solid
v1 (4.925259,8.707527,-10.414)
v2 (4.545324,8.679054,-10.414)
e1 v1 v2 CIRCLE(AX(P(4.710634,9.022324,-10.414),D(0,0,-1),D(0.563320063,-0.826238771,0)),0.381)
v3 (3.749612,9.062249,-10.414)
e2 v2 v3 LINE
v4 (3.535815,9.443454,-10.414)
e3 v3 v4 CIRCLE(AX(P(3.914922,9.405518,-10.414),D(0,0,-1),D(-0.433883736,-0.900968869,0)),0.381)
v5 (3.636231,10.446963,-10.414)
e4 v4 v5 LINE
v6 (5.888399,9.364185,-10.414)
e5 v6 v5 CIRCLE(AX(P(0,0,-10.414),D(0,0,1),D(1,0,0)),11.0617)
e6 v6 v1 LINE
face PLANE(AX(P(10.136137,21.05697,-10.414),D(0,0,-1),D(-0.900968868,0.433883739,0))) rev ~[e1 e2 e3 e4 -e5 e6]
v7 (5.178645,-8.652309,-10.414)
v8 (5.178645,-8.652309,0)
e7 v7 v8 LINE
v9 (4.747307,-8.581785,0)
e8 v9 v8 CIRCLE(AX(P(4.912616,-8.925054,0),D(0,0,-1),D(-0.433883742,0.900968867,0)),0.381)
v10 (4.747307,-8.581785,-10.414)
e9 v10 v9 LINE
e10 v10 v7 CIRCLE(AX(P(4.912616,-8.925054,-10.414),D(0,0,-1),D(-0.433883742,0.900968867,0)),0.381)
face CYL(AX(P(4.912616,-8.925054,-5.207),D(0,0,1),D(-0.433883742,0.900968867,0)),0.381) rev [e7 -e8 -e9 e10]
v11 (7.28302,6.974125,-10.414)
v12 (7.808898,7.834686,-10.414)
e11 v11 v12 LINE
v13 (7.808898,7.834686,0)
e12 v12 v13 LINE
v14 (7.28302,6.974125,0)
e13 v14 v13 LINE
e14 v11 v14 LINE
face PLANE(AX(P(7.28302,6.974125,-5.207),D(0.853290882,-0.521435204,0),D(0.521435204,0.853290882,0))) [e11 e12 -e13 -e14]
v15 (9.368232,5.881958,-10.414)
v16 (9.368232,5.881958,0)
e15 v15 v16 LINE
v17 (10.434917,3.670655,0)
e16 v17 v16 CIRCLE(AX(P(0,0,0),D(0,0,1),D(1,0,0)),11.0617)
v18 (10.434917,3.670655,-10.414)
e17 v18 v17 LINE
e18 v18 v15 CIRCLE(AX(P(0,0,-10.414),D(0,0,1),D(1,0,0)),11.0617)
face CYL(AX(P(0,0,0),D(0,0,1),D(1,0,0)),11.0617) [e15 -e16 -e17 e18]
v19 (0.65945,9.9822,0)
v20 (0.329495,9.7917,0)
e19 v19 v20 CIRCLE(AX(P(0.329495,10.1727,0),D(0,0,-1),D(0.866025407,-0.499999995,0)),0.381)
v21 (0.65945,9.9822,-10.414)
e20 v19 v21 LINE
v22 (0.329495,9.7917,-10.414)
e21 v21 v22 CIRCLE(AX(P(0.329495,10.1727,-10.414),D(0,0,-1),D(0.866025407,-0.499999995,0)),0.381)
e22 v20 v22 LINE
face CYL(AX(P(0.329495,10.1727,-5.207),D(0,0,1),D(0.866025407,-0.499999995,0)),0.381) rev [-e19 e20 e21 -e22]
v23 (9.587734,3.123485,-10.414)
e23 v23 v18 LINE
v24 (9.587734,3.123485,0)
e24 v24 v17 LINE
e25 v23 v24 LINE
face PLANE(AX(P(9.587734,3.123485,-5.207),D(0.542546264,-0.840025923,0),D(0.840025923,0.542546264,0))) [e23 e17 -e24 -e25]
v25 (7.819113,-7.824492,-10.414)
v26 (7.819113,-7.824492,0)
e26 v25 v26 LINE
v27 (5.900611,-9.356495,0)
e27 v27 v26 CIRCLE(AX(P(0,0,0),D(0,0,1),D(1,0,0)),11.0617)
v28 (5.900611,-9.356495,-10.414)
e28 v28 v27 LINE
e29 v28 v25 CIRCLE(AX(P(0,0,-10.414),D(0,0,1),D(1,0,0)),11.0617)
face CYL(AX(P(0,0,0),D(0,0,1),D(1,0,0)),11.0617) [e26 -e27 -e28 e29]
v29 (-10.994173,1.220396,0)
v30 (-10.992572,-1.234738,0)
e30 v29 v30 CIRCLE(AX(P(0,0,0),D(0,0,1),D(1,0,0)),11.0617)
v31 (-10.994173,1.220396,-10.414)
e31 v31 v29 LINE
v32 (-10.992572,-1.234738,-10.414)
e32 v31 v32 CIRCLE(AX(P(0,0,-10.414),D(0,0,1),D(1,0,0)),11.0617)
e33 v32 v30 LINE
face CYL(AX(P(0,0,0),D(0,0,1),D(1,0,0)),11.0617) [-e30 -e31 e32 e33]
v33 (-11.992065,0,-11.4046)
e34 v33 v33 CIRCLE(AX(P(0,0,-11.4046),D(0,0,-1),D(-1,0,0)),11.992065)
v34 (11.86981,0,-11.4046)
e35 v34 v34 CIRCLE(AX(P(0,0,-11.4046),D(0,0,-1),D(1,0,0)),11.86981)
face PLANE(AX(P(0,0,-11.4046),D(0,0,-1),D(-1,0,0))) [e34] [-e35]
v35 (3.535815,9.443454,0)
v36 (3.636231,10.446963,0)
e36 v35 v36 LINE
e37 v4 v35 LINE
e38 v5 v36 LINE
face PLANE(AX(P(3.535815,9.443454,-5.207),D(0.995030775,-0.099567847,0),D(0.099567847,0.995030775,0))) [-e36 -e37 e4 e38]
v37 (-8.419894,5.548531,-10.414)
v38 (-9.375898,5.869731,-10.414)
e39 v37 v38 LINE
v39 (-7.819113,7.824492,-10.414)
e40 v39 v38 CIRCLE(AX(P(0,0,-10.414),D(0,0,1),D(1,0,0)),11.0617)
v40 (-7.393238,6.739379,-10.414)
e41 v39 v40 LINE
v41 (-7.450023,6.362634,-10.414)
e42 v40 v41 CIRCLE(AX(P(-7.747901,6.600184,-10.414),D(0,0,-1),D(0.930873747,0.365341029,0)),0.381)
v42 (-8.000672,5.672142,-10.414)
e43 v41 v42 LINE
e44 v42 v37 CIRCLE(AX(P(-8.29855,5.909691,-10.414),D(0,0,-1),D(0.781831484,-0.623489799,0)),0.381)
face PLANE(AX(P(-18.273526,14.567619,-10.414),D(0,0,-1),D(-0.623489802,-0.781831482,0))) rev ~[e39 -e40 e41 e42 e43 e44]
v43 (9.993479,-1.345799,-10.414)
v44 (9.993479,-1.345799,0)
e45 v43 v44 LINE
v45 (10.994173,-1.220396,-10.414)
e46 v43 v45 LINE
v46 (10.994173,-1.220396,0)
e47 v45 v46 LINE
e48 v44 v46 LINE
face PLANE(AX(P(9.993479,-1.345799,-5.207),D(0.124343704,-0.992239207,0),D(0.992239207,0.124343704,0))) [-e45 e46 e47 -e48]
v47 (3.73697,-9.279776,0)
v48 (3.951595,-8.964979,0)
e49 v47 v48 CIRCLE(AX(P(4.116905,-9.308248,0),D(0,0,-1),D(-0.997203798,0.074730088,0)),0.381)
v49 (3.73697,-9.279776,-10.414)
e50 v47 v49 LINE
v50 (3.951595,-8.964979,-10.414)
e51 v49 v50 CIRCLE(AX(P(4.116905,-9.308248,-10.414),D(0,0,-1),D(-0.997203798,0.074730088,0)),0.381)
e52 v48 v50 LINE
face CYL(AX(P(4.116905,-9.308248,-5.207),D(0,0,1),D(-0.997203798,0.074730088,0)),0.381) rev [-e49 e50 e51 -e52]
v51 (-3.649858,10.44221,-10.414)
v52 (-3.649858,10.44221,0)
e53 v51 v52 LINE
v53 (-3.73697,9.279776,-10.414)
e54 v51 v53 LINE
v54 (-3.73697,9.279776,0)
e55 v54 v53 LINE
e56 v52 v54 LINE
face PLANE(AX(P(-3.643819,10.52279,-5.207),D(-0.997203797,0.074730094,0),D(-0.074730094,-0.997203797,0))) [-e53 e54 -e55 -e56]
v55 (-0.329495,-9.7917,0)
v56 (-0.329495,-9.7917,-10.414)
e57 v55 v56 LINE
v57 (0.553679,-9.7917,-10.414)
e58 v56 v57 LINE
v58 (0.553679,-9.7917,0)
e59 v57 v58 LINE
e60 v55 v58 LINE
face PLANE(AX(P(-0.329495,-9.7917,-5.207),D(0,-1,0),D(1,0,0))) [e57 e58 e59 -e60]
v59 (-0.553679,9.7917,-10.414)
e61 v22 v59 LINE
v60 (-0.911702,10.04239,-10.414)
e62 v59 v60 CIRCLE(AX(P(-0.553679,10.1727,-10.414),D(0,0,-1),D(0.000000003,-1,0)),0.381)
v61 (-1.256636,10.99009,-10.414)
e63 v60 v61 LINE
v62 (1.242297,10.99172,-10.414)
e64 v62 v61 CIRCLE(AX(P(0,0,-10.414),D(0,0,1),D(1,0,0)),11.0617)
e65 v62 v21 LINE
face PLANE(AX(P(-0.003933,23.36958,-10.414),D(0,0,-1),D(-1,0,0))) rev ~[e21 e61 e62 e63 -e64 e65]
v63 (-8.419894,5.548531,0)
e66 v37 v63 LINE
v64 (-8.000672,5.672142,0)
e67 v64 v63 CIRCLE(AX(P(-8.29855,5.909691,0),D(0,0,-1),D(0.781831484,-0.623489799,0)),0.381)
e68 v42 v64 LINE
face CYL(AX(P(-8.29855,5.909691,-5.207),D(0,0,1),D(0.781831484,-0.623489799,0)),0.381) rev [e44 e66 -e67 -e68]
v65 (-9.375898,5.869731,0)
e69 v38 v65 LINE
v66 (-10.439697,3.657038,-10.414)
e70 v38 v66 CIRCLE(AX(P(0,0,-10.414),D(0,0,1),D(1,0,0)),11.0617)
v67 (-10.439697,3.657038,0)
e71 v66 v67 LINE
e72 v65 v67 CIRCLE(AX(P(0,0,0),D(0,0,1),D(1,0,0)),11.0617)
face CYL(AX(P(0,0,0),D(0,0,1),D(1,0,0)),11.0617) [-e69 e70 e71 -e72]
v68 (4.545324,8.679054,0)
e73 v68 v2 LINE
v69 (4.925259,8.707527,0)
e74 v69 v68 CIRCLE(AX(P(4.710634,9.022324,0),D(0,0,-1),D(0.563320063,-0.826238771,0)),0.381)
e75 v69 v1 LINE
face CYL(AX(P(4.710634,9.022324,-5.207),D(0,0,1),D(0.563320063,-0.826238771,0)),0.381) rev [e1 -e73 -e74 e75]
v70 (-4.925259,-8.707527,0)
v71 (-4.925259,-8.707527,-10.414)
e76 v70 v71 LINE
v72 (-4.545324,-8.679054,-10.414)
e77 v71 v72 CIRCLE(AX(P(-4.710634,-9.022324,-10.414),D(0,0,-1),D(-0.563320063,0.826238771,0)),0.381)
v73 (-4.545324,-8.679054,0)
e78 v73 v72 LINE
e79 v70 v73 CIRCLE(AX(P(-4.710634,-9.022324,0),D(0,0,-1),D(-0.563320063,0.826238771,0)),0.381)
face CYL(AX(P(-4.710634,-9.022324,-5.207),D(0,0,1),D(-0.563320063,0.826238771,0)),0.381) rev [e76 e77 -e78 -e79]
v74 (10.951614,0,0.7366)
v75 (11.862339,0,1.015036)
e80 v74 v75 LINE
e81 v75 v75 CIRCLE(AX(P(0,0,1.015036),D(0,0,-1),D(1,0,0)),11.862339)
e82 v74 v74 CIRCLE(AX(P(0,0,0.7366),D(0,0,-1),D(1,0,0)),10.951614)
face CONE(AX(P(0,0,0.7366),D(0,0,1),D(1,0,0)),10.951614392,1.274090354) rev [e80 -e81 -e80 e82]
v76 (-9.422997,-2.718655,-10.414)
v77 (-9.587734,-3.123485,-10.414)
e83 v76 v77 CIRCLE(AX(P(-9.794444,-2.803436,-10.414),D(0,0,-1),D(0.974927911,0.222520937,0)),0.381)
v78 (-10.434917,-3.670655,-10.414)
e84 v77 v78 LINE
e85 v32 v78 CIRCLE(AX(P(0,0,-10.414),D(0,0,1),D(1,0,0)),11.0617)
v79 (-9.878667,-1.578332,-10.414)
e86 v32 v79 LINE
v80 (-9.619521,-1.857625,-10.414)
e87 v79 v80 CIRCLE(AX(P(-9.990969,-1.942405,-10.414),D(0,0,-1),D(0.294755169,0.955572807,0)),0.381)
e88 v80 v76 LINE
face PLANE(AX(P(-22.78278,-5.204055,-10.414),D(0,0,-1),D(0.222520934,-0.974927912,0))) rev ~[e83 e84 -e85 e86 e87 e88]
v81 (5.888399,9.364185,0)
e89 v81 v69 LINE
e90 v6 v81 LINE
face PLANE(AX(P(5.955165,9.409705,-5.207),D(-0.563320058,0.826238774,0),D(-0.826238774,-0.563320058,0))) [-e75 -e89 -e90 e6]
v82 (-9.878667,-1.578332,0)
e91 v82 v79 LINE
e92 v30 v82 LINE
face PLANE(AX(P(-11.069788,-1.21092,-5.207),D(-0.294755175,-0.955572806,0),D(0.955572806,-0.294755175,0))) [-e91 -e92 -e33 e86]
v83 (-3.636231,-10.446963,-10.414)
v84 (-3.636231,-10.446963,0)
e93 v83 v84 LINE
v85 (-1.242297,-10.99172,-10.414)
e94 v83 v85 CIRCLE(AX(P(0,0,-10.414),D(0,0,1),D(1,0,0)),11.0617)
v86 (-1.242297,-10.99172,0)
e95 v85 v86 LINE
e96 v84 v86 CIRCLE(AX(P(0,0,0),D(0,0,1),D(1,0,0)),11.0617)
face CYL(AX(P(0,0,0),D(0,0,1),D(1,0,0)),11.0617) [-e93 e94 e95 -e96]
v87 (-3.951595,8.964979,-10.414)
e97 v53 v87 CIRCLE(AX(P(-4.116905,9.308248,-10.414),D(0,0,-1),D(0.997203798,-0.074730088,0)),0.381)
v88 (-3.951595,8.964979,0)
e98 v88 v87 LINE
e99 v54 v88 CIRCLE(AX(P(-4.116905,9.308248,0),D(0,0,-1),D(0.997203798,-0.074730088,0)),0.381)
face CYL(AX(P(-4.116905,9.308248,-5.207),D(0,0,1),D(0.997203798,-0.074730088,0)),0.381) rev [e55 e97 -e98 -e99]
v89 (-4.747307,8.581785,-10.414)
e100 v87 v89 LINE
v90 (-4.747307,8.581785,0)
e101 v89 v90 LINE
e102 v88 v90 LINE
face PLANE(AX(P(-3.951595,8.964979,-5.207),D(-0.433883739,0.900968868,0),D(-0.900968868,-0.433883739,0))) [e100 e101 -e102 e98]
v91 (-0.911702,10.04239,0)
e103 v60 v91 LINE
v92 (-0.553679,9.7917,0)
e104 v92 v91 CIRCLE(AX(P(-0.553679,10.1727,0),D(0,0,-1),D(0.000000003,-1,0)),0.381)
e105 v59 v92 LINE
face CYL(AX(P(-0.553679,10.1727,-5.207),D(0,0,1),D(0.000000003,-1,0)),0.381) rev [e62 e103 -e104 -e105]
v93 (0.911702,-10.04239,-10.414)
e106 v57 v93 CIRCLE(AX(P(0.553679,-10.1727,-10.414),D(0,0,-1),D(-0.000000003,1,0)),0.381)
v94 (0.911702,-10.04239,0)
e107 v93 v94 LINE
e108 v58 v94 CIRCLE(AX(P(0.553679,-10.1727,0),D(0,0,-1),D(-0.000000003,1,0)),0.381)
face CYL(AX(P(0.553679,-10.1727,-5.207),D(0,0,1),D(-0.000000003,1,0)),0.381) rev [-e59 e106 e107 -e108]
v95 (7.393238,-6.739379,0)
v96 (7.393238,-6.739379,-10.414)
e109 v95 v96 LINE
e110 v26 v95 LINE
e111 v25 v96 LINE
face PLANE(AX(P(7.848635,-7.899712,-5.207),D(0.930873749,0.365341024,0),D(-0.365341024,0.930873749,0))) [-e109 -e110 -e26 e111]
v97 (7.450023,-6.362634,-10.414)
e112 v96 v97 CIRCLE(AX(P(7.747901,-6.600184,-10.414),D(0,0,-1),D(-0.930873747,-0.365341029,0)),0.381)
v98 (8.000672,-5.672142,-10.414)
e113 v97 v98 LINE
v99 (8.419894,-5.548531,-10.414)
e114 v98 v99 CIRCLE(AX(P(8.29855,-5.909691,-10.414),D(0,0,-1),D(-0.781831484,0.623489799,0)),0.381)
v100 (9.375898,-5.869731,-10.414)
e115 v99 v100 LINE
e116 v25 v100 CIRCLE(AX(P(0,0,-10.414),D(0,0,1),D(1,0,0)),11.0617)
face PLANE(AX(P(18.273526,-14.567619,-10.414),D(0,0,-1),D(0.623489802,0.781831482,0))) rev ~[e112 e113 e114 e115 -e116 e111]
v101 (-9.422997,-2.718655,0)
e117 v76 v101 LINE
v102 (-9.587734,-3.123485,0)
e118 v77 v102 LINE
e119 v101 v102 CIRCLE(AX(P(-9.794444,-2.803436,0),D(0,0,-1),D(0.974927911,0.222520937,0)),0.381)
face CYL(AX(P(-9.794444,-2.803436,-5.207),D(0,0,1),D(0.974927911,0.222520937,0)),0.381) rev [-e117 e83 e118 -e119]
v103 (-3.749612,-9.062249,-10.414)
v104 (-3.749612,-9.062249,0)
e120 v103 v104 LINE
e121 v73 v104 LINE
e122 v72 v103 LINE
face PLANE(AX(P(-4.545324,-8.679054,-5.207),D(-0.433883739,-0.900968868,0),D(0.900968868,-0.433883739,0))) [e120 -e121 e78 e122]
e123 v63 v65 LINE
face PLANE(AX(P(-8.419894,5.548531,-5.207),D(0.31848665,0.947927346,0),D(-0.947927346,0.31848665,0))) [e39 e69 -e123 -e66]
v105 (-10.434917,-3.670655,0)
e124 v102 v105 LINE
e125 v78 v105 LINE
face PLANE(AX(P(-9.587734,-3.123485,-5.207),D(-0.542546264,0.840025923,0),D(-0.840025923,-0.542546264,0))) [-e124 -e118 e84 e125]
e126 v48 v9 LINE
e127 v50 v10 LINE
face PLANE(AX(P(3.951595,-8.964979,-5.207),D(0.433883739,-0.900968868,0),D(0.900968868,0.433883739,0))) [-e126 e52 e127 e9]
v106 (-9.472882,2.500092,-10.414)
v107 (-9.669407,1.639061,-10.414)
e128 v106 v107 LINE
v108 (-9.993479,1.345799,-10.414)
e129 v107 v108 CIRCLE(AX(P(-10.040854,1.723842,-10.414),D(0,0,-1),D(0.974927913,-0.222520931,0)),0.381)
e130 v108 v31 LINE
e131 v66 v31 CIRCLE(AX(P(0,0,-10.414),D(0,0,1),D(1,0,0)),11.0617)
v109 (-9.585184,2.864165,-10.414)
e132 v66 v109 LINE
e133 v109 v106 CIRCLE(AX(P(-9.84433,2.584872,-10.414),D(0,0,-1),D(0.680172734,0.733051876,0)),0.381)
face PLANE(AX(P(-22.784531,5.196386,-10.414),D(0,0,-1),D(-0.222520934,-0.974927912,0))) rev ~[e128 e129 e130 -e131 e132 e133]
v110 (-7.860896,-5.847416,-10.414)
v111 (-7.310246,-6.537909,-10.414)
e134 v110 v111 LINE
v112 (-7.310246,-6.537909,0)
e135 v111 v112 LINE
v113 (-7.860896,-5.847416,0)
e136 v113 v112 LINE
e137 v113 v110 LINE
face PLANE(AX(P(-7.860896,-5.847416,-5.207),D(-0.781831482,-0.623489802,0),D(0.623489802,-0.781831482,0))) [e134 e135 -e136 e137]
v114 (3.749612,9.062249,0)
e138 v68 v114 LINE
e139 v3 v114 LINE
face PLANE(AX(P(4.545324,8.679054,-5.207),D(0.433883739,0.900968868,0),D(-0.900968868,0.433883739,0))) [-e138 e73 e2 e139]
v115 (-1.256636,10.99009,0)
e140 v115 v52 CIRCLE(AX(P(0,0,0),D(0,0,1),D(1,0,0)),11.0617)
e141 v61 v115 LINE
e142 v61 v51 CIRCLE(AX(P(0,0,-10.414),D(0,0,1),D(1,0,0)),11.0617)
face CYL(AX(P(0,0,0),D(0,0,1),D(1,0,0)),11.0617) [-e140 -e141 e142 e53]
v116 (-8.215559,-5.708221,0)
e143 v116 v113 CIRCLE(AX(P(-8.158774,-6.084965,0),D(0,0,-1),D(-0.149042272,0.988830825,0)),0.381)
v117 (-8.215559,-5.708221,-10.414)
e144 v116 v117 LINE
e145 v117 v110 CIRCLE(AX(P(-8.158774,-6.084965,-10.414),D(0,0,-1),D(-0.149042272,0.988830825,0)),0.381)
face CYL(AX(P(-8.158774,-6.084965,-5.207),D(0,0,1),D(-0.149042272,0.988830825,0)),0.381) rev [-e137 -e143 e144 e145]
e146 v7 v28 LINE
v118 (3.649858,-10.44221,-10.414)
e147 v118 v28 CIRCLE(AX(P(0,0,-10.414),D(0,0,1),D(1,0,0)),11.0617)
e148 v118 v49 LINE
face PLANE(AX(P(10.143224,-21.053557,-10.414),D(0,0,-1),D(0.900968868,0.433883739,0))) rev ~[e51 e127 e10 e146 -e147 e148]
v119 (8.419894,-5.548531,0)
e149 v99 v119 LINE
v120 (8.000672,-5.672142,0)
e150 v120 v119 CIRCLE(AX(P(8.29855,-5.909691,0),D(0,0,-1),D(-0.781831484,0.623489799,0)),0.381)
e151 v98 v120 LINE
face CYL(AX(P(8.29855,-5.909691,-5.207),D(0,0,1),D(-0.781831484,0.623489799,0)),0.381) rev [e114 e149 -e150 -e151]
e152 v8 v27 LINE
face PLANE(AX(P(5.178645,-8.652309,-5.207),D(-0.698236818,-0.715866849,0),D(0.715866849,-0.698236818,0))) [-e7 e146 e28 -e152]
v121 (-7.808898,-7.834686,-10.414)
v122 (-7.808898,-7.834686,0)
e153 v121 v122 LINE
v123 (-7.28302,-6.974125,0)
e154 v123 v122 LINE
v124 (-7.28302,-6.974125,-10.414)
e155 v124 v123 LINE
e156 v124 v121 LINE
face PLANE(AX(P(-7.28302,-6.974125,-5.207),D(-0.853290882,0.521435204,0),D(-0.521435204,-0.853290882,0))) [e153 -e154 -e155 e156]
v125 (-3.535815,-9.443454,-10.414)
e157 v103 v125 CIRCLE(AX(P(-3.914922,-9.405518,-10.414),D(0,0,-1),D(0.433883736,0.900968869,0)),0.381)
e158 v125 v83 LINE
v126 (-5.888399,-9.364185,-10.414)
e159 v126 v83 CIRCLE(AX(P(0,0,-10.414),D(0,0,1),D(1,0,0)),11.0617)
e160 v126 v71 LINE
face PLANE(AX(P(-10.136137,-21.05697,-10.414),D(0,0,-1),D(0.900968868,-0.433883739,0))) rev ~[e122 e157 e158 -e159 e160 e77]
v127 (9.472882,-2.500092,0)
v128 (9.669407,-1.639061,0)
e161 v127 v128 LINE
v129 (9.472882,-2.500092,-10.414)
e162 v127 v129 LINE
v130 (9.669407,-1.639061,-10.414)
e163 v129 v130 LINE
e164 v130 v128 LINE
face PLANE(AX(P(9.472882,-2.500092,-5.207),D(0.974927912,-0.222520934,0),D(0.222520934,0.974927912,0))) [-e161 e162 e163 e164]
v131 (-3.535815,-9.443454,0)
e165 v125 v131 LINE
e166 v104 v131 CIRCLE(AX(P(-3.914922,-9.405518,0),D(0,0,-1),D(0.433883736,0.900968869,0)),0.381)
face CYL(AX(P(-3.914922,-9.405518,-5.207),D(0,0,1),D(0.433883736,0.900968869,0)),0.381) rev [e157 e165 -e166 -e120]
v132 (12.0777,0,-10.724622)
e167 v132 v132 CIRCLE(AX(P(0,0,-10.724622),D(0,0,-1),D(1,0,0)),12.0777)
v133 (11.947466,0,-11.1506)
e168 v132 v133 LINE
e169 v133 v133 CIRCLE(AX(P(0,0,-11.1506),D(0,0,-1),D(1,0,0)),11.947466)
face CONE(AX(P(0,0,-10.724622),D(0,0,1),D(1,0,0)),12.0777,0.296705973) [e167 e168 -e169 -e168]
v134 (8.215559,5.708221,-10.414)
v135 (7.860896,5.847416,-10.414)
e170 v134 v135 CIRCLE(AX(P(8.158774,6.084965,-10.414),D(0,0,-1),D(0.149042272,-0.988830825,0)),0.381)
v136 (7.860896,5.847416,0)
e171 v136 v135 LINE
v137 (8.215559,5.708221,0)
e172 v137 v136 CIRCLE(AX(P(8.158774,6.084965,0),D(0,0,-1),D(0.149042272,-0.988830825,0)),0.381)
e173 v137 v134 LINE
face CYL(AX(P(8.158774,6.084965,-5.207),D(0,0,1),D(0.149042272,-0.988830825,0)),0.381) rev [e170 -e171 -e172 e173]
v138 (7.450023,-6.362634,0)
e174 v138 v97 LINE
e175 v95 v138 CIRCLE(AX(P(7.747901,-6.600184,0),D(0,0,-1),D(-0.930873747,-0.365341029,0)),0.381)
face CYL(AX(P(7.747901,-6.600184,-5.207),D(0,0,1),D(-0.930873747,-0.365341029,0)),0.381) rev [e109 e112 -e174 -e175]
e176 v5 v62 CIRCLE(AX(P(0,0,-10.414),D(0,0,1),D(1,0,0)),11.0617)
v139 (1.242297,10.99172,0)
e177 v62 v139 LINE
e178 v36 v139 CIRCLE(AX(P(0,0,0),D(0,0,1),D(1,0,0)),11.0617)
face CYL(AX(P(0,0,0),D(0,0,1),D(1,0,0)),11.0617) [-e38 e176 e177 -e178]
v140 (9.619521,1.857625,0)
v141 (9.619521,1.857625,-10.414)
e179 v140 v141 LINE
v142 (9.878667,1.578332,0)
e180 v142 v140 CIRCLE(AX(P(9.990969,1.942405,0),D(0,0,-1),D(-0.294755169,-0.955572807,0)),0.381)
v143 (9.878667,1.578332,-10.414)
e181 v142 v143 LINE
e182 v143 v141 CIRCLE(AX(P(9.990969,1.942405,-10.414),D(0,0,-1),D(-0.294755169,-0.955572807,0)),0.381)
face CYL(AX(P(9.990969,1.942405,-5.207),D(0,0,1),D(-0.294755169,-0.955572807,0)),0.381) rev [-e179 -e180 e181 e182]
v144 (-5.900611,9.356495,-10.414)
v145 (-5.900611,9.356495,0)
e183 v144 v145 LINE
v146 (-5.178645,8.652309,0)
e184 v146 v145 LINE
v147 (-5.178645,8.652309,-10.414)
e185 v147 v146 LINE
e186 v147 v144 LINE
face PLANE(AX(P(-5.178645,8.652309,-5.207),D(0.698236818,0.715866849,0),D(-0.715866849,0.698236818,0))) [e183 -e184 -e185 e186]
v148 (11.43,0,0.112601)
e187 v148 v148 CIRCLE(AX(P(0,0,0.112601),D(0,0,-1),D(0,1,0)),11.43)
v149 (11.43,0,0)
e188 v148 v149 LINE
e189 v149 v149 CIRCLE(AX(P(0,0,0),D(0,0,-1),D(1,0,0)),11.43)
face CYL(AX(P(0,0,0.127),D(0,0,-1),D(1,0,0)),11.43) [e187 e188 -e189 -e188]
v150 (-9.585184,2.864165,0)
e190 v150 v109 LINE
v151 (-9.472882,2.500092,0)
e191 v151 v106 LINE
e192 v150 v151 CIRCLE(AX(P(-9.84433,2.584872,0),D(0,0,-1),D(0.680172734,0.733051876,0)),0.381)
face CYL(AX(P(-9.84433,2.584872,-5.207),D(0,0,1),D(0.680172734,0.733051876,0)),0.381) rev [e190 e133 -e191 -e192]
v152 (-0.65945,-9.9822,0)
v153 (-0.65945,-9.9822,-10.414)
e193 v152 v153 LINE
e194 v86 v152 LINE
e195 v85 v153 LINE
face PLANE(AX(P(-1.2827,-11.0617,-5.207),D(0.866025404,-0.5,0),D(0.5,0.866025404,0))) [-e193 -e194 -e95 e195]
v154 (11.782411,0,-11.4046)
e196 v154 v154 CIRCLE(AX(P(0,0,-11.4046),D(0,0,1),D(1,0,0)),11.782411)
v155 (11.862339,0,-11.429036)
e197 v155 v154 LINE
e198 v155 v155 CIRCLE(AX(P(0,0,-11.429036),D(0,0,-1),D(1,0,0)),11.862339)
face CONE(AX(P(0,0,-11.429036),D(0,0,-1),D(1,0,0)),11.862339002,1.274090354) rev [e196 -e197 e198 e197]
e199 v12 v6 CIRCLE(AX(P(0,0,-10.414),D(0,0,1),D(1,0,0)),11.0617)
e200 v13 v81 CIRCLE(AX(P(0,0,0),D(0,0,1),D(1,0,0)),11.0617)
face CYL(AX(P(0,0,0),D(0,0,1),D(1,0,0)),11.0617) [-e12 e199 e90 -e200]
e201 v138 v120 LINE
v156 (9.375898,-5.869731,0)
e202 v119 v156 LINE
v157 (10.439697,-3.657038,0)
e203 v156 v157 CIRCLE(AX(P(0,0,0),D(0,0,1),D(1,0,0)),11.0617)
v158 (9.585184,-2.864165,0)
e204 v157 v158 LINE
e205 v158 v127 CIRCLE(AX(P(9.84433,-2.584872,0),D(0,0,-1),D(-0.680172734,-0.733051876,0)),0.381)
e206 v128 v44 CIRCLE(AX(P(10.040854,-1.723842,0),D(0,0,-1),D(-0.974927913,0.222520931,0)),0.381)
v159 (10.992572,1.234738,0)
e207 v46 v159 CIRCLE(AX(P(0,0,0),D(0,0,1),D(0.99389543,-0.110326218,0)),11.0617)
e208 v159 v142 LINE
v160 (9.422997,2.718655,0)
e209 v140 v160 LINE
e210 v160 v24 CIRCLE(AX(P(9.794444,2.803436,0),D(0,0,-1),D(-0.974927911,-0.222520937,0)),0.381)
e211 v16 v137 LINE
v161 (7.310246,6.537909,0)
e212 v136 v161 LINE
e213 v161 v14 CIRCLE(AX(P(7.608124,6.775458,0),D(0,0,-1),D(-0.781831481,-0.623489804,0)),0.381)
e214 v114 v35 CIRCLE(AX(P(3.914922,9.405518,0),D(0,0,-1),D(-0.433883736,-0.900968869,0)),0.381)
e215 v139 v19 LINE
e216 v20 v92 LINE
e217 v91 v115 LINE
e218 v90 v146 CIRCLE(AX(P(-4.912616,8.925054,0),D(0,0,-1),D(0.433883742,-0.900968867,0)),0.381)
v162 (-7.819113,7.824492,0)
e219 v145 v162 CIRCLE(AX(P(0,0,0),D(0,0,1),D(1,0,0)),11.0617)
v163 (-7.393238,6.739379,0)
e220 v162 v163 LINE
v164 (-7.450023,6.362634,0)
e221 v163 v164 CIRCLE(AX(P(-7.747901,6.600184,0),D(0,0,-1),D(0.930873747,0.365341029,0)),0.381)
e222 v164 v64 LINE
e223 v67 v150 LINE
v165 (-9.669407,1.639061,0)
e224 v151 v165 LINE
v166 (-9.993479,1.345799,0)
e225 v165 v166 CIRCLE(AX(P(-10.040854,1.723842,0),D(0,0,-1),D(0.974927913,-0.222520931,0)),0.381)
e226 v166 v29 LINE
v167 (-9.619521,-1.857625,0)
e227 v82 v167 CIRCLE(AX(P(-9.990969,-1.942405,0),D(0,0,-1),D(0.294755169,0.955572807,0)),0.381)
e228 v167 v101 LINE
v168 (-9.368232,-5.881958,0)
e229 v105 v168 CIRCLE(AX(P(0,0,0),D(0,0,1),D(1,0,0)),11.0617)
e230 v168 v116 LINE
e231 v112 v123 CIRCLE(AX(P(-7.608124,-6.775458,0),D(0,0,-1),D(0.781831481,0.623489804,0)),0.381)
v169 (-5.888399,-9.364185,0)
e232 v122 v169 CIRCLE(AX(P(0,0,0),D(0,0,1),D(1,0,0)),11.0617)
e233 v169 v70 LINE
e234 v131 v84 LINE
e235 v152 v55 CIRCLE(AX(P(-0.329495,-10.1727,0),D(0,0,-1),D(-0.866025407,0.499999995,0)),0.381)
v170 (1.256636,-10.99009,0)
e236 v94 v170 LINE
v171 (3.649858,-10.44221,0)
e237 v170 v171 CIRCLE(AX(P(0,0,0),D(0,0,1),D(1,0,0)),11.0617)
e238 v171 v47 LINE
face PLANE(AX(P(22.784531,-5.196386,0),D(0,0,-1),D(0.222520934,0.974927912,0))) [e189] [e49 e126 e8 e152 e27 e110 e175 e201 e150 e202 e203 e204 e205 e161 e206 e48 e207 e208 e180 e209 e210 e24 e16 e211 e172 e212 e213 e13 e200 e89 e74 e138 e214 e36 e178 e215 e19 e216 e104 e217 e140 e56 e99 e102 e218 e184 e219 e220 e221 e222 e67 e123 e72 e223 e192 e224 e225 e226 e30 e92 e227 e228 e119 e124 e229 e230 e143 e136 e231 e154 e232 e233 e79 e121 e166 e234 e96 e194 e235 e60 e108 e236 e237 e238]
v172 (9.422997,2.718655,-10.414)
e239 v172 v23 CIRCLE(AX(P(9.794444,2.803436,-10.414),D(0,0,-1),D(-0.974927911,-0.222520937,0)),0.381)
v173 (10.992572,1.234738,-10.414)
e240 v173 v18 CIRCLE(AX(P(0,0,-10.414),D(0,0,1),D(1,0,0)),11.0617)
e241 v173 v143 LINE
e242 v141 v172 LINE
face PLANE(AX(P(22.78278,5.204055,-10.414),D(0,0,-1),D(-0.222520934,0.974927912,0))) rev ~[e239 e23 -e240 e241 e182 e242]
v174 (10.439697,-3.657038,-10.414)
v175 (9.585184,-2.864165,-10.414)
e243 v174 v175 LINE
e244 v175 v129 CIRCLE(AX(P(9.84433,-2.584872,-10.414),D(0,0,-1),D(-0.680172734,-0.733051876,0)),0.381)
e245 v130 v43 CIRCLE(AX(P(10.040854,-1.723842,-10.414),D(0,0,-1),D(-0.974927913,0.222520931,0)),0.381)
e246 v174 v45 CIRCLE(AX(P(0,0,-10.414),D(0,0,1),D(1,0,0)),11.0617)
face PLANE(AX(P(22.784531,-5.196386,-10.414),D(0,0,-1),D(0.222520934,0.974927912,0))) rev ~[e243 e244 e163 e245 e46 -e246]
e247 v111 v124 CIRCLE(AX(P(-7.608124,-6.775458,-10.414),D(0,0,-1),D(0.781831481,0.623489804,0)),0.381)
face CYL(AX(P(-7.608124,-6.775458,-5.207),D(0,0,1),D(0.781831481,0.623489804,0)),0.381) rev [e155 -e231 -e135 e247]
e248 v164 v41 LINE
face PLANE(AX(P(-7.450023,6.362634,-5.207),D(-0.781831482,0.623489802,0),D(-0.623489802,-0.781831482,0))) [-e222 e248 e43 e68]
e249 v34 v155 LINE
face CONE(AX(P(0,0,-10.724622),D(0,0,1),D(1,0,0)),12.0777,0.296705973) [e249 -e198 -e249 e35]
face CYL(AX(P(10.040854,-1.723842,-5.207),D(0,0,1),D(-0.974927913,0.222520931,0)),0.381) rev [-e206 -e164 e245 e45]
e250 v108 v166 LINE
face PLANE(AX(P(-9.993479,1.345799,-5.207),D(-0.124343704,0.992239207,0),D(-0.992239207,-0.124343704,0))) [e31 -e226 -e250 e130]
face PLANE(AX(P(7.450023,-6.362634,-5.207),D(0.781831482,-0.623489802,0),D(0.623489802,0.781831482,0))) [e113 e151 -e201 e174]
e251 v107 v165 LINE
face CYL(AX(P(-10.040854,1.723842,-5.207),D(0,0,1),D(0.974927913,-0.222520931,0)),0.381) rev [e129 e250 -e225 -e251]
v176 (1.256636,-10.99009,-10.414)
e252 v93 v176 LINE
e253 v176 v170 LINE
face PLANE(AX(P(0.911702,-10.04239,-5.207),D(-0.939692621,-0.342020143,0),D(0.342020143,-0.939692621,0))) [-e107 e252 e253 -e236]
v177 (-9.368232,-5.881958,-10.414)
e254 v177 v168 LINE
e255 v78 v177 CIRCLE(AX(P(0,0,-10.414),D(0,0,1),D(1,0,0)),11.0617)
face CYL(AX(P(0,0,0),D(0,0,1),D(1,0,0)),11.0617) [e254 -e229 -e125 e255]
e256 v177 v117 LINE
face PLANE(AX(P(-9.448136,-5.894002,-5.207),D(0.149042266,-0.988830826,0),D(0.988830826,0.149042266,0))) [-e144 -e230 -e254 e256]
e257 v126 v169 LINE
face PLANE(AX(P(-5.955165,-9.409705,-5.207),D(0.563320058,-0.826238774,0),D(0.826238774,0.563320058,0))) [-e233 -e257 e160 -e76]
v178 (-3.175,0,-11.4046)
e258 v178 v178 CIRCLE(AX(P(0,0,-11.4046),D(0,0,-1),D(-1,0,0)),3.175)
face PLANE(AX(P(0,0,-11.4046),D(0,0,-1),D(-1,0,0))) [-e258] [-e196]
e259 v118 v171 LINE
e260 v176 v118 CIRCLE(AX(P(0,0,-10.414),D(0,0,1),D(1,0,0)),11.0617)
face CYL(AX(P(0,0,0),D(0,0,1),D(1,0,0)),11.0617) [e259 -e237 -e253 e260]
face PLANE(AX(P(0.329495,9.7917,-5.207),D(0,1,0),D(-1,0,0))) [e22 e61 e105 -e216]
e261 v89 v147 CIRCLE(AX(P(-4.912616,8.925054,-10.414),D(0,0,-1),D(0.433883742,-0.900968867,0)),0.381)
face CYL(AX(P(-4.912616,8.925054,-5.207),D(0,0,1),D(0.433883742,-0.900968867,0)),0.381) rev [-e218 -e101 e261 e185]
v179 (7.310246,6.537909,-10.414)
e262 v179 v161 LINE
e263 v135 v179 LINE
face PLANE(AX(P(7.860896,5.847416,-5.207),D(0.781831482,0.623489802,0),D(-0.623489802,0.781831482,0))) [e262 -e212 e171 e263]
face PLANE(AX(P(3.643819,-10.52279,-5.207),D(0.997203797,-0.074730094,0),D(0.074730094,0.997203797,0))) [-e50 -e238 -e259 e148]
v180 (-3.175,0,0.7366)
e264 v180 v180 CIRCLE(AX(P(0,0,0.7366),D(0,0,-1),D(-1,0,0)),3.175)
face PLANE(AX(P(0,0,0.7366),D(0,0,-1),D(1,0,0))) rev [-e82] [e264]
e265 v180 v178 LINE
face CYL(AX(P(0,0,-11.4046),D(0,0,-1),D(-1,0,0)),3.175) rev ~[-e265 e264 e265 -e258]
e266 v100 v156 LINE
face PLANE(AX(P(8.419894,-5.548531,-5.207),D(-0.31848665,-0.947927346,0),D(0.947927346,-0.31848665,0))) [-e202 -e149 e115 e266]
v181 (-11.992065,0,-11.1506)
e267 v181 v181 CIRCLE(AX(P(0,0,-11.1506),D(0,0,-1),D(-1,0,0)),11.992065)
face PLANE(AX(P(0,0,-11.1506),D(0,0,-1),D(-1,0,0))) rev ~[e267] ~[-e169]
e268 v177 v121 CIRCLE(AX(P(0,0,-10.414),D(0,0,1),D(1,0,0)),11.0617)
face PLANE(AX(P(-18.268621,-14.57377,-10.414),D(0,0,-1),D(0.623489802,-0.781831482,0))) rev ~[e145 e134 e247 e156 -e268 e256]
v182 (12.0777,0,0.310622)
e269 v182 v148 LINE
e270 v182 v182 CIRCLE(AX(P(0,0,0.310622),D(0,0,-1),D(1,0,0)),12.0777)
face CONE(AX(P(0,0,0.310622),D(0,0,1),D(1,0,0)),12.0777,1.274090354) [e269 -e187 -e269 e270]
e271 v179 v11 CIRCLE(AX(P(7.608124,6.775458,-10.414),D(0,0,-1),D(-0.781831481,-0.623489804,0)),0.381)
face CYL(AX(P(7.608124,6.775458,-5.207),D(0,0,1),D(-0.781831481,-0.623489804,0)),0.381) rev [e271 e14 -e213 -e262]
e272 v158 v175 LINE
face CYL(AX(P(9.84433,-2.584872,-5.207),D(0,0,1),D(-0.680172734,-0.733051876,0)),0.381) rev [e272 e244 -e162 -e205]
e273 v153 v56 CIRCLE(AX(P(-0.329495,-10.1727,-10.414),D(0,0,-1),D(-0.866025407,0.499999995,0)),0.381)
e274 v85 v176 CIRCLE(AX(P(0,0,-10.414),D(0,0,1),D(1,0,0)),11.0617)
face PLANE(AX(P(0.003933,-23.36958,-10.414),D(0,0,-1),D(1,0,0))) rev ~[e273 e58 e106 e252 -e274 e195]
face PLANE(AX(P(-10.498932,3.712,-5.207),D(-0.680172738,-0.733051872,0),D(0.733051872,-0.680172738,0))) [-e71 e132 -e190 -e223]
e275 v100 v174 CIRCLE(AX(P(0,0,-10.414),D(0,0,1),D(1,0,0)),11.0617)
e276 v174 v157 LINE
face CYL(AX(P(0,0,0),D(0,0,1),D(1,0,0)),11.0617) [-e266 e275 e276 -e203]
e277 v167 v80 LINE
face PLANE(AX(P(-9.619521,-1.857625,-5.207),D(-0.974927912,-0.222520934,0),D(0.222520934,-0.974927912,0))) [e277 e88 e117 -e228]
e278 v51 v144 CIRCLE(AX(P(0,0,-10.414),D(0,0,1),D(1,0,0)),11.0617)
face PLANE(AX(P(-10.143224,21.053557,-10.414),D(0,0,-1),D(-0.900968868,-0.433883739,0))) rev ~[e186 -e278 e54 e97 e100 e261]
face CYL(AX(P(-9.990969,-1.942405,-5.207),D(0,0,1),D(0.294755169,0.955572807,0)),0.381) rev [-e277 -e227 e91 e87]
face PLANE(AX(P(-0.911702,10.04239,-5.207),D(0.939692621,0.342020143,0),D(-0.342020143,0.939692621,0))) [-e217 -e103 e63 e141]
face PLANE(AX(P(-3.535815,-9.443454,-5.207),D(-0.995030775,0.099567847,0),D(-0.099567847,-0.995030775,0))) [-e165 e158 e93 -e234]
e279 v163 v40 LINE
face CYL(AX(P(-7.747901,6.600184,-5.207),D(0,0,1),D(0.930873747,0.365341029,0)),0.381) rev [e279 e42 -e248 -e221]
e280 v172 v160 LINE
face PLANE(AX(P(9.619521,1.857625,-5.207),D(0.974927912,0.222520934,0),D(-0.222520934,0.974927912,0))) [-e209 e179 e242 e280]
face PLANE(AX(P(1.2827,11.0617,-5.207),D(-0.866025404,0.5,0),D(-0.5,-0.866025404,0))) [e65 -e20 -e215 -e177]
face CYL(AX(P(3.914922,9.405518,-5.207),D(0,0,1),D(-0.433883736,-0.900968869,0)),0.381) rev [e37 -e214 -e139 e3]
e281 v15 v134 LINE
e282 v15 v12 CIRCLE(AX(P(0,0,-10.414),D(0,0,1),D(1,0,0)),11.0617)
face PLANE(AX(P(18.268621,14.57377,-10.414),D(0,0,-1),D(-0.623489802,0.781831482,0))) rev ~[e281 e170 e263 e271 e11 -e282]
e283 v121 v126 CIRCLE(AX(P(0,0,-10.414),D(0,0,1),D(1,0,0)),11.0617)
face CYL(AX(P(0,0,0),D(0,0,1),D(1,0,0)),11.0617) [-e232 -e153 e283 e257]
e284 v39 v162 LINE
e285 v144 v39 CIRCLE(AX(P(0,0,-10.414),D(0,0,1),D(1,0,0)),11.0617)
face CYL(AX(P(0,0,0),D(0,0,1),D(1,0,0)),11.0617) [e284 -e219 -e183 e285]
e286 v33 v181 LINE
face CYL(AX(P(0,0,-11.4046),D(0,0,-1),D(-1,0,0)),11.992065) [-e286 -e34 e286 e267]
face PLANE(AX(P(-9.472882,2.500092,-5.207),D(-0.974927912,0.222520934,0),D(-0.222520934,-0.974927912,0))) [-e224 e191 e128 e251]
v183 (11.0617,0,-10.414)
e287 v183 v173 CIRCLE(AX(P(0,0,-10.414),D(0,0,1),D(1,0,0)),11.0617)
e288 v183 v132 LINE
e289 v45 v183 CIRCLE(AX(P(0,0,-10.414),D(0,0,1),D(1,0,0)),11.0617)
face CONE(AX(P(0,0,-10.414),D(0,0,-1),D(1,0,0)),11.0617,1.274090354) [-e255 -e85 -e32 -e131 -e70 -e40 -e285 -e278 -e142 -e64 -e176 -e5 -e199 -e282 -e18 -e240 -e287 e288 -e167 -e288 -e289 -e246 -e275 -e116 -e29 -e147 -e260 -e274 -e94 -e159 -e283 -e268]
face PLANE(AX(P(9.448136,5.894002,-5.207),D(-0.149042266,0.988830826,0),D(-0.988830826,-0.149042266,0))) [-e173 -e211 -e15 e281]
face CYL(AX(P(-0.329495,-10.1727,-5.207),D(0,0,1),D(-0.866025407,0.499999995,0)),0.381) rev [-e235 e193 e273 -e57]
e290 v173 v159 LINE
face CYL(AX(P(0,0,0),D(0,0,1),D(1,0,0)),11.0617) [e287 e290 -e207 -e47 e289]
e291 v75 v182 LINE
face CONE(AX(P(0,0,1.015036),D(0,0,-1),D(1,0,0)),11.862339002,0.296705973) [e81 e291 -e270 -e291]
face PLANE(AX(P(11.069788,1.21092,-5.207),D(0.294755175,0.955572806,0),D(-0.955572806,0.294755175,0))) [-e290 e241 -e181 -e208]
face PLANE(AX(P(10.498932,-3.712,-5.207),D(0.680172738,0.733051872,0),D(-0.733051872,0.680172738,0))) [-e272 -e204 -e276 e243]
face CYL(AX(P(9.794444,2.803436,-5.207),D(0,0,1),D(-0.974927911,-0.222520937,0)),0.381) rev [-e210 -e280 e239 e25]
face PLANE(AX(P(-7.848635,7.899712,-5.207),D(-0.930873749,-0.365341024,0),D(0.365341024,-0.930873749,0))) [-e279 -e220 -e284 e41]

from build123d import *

# Parameters (mm, degrees)
SKETCH1_R           = 11.0617
BASEPULLEY_DEPTH    = 10.414
GROOVE_DEPTH        = 5.207
GROOVES_COUNT       = 14
GROOVES_ANGLE       = 334.285714286
SKETCH4_W           = 0.254
SKETCH4_H           = 11.43
BORSKE_R            = 3.175
BORE_DEPTH          = 21.970083094
BOSS_EXTRUDE1_START = 0.254
SKETCH7_R           = 11.992065176
SKETCH7_R_2         = 3.175
BOSS_EXTRUDE1_DEPTH = 0.254


with BuildPart() as part:
    # Sketch1 → BasePulley (new body)
    with BuildSketch(Plane.XY):
        Circle(SKETCH1_R)
    extrude(amount=-BASEPULLEY_DEPTH)

    # Sketch2 → Flange (revolve)
    with BuildSketch(Plane(origin=(0, 0, 0), x_dir=(0, 0, -1), z_dir=(1, 0, 0)), mode=Mode.PRIVATE) as flange_sk:
        Polygon((10.414, 11.0617), (10.724622372, 12.0777), (11.429036456, 11.862339002), (11.1506, 10.951614392), (11.1506, 0), (-0.7366, 0), (-0.7366, 10.951614392), (-1.015036456, 11.862339002), (-0.310622372, 12.0777), (0, 11.0617), align=None)
    revolve(flange_sk.sketch.rotate(Axis((0, 0, 0), (0, 0, -1)), 90), axis=Axis((0, 0, 0), (0, 0, -1)))

    # Sketch3 → Groove (cut, symmetric)
    with BuildSketch(Plane.XY.offset(-5.207)):
        with BuildLine():
            Line((-1.2827, 11.0617), (-1.2827, 36.4617))
            Line((-1.2827, 36.4617), (1.2827, 36.4617))
            Line((1.2827, 36.4617), (1.2827, 11.0617))
            Line((1.2827, 11.0617), (0.659450384, 9.9822))
            ThreePointArc((0.659450384, 9.9822), (0.519994706, 9.842744321), (0.329494706, 9.7917))
            Line((0.329494706, 9.7917), (-0.55367873, 9.7917))
            ThreePointArc((-0.55367873, 9.7917), (-0.772211353, 9.860603071), (-0.911701619, 10.042390325))
            Line((-0.911701619, 10.042390325), (-1.2827, 11.0617))
        make_face()
    groove = extrude(amount=GROOVE_DEPTH, both=True, mode=Mode.SUBTRACT)

    # Grooves: Groove ×14 about axis
    grooves_axis = Axis((0, 0, -10.414), (0, 0, 1))
    for i in range(1, GROOVES_COUNT):
        add(groove.rotate(grooves_axis, i * GROOVES_ANGLE / (GROOVES_COUNT - 1)), mode=Mode.SUBTRACT)

    # Sketch4 → BaseHub (revolve)
    with BuildSketch(Plane(origin=(0, 0, 0), x_dir=(0, 0, -1), z_dir=(1, 0, 0)), mode=Mode.PRIVATE) as basehub_sk:
        with Locations((-0.127, 5.715)):
            Rectangle(SKETCH4_W, SKETCH4_H)
    revolve(basehub_sk.sketch.rotate(Axis((0, 0, 0), (0, 0, -1)), 90), axis=Axis((0, 0, 0), (0, 0, -1)))

    # BorSke → Bore (cut, through all)
    with BuildSketch(Plane(origin=(0, 0, -11.1506), x_dir=(-1, 0, 0), z_dir=(0, 0, -1))):
        Circle(BORSKE_R)
    extrude(amount=-BORE_DEPTH, mode=Mode.SUBTRACT)

    # Sketch7 → Boss-Extrude1 (add)
    with BuildSketch(Plane(origin=(0, 0, -11.1506), x_dir=(-1, 0, 0), z_dir=(0, 0, -1)).offset(BOSS_EXTRUDE1_START)):
        Circle(SKETCH7_R)
        Circle(SKETCH7_R_2, mode=Mode.SUBTRACT)
    extrude(amount=-BOSS_EXTRUDE1_DEPTH)


solid = part.part
